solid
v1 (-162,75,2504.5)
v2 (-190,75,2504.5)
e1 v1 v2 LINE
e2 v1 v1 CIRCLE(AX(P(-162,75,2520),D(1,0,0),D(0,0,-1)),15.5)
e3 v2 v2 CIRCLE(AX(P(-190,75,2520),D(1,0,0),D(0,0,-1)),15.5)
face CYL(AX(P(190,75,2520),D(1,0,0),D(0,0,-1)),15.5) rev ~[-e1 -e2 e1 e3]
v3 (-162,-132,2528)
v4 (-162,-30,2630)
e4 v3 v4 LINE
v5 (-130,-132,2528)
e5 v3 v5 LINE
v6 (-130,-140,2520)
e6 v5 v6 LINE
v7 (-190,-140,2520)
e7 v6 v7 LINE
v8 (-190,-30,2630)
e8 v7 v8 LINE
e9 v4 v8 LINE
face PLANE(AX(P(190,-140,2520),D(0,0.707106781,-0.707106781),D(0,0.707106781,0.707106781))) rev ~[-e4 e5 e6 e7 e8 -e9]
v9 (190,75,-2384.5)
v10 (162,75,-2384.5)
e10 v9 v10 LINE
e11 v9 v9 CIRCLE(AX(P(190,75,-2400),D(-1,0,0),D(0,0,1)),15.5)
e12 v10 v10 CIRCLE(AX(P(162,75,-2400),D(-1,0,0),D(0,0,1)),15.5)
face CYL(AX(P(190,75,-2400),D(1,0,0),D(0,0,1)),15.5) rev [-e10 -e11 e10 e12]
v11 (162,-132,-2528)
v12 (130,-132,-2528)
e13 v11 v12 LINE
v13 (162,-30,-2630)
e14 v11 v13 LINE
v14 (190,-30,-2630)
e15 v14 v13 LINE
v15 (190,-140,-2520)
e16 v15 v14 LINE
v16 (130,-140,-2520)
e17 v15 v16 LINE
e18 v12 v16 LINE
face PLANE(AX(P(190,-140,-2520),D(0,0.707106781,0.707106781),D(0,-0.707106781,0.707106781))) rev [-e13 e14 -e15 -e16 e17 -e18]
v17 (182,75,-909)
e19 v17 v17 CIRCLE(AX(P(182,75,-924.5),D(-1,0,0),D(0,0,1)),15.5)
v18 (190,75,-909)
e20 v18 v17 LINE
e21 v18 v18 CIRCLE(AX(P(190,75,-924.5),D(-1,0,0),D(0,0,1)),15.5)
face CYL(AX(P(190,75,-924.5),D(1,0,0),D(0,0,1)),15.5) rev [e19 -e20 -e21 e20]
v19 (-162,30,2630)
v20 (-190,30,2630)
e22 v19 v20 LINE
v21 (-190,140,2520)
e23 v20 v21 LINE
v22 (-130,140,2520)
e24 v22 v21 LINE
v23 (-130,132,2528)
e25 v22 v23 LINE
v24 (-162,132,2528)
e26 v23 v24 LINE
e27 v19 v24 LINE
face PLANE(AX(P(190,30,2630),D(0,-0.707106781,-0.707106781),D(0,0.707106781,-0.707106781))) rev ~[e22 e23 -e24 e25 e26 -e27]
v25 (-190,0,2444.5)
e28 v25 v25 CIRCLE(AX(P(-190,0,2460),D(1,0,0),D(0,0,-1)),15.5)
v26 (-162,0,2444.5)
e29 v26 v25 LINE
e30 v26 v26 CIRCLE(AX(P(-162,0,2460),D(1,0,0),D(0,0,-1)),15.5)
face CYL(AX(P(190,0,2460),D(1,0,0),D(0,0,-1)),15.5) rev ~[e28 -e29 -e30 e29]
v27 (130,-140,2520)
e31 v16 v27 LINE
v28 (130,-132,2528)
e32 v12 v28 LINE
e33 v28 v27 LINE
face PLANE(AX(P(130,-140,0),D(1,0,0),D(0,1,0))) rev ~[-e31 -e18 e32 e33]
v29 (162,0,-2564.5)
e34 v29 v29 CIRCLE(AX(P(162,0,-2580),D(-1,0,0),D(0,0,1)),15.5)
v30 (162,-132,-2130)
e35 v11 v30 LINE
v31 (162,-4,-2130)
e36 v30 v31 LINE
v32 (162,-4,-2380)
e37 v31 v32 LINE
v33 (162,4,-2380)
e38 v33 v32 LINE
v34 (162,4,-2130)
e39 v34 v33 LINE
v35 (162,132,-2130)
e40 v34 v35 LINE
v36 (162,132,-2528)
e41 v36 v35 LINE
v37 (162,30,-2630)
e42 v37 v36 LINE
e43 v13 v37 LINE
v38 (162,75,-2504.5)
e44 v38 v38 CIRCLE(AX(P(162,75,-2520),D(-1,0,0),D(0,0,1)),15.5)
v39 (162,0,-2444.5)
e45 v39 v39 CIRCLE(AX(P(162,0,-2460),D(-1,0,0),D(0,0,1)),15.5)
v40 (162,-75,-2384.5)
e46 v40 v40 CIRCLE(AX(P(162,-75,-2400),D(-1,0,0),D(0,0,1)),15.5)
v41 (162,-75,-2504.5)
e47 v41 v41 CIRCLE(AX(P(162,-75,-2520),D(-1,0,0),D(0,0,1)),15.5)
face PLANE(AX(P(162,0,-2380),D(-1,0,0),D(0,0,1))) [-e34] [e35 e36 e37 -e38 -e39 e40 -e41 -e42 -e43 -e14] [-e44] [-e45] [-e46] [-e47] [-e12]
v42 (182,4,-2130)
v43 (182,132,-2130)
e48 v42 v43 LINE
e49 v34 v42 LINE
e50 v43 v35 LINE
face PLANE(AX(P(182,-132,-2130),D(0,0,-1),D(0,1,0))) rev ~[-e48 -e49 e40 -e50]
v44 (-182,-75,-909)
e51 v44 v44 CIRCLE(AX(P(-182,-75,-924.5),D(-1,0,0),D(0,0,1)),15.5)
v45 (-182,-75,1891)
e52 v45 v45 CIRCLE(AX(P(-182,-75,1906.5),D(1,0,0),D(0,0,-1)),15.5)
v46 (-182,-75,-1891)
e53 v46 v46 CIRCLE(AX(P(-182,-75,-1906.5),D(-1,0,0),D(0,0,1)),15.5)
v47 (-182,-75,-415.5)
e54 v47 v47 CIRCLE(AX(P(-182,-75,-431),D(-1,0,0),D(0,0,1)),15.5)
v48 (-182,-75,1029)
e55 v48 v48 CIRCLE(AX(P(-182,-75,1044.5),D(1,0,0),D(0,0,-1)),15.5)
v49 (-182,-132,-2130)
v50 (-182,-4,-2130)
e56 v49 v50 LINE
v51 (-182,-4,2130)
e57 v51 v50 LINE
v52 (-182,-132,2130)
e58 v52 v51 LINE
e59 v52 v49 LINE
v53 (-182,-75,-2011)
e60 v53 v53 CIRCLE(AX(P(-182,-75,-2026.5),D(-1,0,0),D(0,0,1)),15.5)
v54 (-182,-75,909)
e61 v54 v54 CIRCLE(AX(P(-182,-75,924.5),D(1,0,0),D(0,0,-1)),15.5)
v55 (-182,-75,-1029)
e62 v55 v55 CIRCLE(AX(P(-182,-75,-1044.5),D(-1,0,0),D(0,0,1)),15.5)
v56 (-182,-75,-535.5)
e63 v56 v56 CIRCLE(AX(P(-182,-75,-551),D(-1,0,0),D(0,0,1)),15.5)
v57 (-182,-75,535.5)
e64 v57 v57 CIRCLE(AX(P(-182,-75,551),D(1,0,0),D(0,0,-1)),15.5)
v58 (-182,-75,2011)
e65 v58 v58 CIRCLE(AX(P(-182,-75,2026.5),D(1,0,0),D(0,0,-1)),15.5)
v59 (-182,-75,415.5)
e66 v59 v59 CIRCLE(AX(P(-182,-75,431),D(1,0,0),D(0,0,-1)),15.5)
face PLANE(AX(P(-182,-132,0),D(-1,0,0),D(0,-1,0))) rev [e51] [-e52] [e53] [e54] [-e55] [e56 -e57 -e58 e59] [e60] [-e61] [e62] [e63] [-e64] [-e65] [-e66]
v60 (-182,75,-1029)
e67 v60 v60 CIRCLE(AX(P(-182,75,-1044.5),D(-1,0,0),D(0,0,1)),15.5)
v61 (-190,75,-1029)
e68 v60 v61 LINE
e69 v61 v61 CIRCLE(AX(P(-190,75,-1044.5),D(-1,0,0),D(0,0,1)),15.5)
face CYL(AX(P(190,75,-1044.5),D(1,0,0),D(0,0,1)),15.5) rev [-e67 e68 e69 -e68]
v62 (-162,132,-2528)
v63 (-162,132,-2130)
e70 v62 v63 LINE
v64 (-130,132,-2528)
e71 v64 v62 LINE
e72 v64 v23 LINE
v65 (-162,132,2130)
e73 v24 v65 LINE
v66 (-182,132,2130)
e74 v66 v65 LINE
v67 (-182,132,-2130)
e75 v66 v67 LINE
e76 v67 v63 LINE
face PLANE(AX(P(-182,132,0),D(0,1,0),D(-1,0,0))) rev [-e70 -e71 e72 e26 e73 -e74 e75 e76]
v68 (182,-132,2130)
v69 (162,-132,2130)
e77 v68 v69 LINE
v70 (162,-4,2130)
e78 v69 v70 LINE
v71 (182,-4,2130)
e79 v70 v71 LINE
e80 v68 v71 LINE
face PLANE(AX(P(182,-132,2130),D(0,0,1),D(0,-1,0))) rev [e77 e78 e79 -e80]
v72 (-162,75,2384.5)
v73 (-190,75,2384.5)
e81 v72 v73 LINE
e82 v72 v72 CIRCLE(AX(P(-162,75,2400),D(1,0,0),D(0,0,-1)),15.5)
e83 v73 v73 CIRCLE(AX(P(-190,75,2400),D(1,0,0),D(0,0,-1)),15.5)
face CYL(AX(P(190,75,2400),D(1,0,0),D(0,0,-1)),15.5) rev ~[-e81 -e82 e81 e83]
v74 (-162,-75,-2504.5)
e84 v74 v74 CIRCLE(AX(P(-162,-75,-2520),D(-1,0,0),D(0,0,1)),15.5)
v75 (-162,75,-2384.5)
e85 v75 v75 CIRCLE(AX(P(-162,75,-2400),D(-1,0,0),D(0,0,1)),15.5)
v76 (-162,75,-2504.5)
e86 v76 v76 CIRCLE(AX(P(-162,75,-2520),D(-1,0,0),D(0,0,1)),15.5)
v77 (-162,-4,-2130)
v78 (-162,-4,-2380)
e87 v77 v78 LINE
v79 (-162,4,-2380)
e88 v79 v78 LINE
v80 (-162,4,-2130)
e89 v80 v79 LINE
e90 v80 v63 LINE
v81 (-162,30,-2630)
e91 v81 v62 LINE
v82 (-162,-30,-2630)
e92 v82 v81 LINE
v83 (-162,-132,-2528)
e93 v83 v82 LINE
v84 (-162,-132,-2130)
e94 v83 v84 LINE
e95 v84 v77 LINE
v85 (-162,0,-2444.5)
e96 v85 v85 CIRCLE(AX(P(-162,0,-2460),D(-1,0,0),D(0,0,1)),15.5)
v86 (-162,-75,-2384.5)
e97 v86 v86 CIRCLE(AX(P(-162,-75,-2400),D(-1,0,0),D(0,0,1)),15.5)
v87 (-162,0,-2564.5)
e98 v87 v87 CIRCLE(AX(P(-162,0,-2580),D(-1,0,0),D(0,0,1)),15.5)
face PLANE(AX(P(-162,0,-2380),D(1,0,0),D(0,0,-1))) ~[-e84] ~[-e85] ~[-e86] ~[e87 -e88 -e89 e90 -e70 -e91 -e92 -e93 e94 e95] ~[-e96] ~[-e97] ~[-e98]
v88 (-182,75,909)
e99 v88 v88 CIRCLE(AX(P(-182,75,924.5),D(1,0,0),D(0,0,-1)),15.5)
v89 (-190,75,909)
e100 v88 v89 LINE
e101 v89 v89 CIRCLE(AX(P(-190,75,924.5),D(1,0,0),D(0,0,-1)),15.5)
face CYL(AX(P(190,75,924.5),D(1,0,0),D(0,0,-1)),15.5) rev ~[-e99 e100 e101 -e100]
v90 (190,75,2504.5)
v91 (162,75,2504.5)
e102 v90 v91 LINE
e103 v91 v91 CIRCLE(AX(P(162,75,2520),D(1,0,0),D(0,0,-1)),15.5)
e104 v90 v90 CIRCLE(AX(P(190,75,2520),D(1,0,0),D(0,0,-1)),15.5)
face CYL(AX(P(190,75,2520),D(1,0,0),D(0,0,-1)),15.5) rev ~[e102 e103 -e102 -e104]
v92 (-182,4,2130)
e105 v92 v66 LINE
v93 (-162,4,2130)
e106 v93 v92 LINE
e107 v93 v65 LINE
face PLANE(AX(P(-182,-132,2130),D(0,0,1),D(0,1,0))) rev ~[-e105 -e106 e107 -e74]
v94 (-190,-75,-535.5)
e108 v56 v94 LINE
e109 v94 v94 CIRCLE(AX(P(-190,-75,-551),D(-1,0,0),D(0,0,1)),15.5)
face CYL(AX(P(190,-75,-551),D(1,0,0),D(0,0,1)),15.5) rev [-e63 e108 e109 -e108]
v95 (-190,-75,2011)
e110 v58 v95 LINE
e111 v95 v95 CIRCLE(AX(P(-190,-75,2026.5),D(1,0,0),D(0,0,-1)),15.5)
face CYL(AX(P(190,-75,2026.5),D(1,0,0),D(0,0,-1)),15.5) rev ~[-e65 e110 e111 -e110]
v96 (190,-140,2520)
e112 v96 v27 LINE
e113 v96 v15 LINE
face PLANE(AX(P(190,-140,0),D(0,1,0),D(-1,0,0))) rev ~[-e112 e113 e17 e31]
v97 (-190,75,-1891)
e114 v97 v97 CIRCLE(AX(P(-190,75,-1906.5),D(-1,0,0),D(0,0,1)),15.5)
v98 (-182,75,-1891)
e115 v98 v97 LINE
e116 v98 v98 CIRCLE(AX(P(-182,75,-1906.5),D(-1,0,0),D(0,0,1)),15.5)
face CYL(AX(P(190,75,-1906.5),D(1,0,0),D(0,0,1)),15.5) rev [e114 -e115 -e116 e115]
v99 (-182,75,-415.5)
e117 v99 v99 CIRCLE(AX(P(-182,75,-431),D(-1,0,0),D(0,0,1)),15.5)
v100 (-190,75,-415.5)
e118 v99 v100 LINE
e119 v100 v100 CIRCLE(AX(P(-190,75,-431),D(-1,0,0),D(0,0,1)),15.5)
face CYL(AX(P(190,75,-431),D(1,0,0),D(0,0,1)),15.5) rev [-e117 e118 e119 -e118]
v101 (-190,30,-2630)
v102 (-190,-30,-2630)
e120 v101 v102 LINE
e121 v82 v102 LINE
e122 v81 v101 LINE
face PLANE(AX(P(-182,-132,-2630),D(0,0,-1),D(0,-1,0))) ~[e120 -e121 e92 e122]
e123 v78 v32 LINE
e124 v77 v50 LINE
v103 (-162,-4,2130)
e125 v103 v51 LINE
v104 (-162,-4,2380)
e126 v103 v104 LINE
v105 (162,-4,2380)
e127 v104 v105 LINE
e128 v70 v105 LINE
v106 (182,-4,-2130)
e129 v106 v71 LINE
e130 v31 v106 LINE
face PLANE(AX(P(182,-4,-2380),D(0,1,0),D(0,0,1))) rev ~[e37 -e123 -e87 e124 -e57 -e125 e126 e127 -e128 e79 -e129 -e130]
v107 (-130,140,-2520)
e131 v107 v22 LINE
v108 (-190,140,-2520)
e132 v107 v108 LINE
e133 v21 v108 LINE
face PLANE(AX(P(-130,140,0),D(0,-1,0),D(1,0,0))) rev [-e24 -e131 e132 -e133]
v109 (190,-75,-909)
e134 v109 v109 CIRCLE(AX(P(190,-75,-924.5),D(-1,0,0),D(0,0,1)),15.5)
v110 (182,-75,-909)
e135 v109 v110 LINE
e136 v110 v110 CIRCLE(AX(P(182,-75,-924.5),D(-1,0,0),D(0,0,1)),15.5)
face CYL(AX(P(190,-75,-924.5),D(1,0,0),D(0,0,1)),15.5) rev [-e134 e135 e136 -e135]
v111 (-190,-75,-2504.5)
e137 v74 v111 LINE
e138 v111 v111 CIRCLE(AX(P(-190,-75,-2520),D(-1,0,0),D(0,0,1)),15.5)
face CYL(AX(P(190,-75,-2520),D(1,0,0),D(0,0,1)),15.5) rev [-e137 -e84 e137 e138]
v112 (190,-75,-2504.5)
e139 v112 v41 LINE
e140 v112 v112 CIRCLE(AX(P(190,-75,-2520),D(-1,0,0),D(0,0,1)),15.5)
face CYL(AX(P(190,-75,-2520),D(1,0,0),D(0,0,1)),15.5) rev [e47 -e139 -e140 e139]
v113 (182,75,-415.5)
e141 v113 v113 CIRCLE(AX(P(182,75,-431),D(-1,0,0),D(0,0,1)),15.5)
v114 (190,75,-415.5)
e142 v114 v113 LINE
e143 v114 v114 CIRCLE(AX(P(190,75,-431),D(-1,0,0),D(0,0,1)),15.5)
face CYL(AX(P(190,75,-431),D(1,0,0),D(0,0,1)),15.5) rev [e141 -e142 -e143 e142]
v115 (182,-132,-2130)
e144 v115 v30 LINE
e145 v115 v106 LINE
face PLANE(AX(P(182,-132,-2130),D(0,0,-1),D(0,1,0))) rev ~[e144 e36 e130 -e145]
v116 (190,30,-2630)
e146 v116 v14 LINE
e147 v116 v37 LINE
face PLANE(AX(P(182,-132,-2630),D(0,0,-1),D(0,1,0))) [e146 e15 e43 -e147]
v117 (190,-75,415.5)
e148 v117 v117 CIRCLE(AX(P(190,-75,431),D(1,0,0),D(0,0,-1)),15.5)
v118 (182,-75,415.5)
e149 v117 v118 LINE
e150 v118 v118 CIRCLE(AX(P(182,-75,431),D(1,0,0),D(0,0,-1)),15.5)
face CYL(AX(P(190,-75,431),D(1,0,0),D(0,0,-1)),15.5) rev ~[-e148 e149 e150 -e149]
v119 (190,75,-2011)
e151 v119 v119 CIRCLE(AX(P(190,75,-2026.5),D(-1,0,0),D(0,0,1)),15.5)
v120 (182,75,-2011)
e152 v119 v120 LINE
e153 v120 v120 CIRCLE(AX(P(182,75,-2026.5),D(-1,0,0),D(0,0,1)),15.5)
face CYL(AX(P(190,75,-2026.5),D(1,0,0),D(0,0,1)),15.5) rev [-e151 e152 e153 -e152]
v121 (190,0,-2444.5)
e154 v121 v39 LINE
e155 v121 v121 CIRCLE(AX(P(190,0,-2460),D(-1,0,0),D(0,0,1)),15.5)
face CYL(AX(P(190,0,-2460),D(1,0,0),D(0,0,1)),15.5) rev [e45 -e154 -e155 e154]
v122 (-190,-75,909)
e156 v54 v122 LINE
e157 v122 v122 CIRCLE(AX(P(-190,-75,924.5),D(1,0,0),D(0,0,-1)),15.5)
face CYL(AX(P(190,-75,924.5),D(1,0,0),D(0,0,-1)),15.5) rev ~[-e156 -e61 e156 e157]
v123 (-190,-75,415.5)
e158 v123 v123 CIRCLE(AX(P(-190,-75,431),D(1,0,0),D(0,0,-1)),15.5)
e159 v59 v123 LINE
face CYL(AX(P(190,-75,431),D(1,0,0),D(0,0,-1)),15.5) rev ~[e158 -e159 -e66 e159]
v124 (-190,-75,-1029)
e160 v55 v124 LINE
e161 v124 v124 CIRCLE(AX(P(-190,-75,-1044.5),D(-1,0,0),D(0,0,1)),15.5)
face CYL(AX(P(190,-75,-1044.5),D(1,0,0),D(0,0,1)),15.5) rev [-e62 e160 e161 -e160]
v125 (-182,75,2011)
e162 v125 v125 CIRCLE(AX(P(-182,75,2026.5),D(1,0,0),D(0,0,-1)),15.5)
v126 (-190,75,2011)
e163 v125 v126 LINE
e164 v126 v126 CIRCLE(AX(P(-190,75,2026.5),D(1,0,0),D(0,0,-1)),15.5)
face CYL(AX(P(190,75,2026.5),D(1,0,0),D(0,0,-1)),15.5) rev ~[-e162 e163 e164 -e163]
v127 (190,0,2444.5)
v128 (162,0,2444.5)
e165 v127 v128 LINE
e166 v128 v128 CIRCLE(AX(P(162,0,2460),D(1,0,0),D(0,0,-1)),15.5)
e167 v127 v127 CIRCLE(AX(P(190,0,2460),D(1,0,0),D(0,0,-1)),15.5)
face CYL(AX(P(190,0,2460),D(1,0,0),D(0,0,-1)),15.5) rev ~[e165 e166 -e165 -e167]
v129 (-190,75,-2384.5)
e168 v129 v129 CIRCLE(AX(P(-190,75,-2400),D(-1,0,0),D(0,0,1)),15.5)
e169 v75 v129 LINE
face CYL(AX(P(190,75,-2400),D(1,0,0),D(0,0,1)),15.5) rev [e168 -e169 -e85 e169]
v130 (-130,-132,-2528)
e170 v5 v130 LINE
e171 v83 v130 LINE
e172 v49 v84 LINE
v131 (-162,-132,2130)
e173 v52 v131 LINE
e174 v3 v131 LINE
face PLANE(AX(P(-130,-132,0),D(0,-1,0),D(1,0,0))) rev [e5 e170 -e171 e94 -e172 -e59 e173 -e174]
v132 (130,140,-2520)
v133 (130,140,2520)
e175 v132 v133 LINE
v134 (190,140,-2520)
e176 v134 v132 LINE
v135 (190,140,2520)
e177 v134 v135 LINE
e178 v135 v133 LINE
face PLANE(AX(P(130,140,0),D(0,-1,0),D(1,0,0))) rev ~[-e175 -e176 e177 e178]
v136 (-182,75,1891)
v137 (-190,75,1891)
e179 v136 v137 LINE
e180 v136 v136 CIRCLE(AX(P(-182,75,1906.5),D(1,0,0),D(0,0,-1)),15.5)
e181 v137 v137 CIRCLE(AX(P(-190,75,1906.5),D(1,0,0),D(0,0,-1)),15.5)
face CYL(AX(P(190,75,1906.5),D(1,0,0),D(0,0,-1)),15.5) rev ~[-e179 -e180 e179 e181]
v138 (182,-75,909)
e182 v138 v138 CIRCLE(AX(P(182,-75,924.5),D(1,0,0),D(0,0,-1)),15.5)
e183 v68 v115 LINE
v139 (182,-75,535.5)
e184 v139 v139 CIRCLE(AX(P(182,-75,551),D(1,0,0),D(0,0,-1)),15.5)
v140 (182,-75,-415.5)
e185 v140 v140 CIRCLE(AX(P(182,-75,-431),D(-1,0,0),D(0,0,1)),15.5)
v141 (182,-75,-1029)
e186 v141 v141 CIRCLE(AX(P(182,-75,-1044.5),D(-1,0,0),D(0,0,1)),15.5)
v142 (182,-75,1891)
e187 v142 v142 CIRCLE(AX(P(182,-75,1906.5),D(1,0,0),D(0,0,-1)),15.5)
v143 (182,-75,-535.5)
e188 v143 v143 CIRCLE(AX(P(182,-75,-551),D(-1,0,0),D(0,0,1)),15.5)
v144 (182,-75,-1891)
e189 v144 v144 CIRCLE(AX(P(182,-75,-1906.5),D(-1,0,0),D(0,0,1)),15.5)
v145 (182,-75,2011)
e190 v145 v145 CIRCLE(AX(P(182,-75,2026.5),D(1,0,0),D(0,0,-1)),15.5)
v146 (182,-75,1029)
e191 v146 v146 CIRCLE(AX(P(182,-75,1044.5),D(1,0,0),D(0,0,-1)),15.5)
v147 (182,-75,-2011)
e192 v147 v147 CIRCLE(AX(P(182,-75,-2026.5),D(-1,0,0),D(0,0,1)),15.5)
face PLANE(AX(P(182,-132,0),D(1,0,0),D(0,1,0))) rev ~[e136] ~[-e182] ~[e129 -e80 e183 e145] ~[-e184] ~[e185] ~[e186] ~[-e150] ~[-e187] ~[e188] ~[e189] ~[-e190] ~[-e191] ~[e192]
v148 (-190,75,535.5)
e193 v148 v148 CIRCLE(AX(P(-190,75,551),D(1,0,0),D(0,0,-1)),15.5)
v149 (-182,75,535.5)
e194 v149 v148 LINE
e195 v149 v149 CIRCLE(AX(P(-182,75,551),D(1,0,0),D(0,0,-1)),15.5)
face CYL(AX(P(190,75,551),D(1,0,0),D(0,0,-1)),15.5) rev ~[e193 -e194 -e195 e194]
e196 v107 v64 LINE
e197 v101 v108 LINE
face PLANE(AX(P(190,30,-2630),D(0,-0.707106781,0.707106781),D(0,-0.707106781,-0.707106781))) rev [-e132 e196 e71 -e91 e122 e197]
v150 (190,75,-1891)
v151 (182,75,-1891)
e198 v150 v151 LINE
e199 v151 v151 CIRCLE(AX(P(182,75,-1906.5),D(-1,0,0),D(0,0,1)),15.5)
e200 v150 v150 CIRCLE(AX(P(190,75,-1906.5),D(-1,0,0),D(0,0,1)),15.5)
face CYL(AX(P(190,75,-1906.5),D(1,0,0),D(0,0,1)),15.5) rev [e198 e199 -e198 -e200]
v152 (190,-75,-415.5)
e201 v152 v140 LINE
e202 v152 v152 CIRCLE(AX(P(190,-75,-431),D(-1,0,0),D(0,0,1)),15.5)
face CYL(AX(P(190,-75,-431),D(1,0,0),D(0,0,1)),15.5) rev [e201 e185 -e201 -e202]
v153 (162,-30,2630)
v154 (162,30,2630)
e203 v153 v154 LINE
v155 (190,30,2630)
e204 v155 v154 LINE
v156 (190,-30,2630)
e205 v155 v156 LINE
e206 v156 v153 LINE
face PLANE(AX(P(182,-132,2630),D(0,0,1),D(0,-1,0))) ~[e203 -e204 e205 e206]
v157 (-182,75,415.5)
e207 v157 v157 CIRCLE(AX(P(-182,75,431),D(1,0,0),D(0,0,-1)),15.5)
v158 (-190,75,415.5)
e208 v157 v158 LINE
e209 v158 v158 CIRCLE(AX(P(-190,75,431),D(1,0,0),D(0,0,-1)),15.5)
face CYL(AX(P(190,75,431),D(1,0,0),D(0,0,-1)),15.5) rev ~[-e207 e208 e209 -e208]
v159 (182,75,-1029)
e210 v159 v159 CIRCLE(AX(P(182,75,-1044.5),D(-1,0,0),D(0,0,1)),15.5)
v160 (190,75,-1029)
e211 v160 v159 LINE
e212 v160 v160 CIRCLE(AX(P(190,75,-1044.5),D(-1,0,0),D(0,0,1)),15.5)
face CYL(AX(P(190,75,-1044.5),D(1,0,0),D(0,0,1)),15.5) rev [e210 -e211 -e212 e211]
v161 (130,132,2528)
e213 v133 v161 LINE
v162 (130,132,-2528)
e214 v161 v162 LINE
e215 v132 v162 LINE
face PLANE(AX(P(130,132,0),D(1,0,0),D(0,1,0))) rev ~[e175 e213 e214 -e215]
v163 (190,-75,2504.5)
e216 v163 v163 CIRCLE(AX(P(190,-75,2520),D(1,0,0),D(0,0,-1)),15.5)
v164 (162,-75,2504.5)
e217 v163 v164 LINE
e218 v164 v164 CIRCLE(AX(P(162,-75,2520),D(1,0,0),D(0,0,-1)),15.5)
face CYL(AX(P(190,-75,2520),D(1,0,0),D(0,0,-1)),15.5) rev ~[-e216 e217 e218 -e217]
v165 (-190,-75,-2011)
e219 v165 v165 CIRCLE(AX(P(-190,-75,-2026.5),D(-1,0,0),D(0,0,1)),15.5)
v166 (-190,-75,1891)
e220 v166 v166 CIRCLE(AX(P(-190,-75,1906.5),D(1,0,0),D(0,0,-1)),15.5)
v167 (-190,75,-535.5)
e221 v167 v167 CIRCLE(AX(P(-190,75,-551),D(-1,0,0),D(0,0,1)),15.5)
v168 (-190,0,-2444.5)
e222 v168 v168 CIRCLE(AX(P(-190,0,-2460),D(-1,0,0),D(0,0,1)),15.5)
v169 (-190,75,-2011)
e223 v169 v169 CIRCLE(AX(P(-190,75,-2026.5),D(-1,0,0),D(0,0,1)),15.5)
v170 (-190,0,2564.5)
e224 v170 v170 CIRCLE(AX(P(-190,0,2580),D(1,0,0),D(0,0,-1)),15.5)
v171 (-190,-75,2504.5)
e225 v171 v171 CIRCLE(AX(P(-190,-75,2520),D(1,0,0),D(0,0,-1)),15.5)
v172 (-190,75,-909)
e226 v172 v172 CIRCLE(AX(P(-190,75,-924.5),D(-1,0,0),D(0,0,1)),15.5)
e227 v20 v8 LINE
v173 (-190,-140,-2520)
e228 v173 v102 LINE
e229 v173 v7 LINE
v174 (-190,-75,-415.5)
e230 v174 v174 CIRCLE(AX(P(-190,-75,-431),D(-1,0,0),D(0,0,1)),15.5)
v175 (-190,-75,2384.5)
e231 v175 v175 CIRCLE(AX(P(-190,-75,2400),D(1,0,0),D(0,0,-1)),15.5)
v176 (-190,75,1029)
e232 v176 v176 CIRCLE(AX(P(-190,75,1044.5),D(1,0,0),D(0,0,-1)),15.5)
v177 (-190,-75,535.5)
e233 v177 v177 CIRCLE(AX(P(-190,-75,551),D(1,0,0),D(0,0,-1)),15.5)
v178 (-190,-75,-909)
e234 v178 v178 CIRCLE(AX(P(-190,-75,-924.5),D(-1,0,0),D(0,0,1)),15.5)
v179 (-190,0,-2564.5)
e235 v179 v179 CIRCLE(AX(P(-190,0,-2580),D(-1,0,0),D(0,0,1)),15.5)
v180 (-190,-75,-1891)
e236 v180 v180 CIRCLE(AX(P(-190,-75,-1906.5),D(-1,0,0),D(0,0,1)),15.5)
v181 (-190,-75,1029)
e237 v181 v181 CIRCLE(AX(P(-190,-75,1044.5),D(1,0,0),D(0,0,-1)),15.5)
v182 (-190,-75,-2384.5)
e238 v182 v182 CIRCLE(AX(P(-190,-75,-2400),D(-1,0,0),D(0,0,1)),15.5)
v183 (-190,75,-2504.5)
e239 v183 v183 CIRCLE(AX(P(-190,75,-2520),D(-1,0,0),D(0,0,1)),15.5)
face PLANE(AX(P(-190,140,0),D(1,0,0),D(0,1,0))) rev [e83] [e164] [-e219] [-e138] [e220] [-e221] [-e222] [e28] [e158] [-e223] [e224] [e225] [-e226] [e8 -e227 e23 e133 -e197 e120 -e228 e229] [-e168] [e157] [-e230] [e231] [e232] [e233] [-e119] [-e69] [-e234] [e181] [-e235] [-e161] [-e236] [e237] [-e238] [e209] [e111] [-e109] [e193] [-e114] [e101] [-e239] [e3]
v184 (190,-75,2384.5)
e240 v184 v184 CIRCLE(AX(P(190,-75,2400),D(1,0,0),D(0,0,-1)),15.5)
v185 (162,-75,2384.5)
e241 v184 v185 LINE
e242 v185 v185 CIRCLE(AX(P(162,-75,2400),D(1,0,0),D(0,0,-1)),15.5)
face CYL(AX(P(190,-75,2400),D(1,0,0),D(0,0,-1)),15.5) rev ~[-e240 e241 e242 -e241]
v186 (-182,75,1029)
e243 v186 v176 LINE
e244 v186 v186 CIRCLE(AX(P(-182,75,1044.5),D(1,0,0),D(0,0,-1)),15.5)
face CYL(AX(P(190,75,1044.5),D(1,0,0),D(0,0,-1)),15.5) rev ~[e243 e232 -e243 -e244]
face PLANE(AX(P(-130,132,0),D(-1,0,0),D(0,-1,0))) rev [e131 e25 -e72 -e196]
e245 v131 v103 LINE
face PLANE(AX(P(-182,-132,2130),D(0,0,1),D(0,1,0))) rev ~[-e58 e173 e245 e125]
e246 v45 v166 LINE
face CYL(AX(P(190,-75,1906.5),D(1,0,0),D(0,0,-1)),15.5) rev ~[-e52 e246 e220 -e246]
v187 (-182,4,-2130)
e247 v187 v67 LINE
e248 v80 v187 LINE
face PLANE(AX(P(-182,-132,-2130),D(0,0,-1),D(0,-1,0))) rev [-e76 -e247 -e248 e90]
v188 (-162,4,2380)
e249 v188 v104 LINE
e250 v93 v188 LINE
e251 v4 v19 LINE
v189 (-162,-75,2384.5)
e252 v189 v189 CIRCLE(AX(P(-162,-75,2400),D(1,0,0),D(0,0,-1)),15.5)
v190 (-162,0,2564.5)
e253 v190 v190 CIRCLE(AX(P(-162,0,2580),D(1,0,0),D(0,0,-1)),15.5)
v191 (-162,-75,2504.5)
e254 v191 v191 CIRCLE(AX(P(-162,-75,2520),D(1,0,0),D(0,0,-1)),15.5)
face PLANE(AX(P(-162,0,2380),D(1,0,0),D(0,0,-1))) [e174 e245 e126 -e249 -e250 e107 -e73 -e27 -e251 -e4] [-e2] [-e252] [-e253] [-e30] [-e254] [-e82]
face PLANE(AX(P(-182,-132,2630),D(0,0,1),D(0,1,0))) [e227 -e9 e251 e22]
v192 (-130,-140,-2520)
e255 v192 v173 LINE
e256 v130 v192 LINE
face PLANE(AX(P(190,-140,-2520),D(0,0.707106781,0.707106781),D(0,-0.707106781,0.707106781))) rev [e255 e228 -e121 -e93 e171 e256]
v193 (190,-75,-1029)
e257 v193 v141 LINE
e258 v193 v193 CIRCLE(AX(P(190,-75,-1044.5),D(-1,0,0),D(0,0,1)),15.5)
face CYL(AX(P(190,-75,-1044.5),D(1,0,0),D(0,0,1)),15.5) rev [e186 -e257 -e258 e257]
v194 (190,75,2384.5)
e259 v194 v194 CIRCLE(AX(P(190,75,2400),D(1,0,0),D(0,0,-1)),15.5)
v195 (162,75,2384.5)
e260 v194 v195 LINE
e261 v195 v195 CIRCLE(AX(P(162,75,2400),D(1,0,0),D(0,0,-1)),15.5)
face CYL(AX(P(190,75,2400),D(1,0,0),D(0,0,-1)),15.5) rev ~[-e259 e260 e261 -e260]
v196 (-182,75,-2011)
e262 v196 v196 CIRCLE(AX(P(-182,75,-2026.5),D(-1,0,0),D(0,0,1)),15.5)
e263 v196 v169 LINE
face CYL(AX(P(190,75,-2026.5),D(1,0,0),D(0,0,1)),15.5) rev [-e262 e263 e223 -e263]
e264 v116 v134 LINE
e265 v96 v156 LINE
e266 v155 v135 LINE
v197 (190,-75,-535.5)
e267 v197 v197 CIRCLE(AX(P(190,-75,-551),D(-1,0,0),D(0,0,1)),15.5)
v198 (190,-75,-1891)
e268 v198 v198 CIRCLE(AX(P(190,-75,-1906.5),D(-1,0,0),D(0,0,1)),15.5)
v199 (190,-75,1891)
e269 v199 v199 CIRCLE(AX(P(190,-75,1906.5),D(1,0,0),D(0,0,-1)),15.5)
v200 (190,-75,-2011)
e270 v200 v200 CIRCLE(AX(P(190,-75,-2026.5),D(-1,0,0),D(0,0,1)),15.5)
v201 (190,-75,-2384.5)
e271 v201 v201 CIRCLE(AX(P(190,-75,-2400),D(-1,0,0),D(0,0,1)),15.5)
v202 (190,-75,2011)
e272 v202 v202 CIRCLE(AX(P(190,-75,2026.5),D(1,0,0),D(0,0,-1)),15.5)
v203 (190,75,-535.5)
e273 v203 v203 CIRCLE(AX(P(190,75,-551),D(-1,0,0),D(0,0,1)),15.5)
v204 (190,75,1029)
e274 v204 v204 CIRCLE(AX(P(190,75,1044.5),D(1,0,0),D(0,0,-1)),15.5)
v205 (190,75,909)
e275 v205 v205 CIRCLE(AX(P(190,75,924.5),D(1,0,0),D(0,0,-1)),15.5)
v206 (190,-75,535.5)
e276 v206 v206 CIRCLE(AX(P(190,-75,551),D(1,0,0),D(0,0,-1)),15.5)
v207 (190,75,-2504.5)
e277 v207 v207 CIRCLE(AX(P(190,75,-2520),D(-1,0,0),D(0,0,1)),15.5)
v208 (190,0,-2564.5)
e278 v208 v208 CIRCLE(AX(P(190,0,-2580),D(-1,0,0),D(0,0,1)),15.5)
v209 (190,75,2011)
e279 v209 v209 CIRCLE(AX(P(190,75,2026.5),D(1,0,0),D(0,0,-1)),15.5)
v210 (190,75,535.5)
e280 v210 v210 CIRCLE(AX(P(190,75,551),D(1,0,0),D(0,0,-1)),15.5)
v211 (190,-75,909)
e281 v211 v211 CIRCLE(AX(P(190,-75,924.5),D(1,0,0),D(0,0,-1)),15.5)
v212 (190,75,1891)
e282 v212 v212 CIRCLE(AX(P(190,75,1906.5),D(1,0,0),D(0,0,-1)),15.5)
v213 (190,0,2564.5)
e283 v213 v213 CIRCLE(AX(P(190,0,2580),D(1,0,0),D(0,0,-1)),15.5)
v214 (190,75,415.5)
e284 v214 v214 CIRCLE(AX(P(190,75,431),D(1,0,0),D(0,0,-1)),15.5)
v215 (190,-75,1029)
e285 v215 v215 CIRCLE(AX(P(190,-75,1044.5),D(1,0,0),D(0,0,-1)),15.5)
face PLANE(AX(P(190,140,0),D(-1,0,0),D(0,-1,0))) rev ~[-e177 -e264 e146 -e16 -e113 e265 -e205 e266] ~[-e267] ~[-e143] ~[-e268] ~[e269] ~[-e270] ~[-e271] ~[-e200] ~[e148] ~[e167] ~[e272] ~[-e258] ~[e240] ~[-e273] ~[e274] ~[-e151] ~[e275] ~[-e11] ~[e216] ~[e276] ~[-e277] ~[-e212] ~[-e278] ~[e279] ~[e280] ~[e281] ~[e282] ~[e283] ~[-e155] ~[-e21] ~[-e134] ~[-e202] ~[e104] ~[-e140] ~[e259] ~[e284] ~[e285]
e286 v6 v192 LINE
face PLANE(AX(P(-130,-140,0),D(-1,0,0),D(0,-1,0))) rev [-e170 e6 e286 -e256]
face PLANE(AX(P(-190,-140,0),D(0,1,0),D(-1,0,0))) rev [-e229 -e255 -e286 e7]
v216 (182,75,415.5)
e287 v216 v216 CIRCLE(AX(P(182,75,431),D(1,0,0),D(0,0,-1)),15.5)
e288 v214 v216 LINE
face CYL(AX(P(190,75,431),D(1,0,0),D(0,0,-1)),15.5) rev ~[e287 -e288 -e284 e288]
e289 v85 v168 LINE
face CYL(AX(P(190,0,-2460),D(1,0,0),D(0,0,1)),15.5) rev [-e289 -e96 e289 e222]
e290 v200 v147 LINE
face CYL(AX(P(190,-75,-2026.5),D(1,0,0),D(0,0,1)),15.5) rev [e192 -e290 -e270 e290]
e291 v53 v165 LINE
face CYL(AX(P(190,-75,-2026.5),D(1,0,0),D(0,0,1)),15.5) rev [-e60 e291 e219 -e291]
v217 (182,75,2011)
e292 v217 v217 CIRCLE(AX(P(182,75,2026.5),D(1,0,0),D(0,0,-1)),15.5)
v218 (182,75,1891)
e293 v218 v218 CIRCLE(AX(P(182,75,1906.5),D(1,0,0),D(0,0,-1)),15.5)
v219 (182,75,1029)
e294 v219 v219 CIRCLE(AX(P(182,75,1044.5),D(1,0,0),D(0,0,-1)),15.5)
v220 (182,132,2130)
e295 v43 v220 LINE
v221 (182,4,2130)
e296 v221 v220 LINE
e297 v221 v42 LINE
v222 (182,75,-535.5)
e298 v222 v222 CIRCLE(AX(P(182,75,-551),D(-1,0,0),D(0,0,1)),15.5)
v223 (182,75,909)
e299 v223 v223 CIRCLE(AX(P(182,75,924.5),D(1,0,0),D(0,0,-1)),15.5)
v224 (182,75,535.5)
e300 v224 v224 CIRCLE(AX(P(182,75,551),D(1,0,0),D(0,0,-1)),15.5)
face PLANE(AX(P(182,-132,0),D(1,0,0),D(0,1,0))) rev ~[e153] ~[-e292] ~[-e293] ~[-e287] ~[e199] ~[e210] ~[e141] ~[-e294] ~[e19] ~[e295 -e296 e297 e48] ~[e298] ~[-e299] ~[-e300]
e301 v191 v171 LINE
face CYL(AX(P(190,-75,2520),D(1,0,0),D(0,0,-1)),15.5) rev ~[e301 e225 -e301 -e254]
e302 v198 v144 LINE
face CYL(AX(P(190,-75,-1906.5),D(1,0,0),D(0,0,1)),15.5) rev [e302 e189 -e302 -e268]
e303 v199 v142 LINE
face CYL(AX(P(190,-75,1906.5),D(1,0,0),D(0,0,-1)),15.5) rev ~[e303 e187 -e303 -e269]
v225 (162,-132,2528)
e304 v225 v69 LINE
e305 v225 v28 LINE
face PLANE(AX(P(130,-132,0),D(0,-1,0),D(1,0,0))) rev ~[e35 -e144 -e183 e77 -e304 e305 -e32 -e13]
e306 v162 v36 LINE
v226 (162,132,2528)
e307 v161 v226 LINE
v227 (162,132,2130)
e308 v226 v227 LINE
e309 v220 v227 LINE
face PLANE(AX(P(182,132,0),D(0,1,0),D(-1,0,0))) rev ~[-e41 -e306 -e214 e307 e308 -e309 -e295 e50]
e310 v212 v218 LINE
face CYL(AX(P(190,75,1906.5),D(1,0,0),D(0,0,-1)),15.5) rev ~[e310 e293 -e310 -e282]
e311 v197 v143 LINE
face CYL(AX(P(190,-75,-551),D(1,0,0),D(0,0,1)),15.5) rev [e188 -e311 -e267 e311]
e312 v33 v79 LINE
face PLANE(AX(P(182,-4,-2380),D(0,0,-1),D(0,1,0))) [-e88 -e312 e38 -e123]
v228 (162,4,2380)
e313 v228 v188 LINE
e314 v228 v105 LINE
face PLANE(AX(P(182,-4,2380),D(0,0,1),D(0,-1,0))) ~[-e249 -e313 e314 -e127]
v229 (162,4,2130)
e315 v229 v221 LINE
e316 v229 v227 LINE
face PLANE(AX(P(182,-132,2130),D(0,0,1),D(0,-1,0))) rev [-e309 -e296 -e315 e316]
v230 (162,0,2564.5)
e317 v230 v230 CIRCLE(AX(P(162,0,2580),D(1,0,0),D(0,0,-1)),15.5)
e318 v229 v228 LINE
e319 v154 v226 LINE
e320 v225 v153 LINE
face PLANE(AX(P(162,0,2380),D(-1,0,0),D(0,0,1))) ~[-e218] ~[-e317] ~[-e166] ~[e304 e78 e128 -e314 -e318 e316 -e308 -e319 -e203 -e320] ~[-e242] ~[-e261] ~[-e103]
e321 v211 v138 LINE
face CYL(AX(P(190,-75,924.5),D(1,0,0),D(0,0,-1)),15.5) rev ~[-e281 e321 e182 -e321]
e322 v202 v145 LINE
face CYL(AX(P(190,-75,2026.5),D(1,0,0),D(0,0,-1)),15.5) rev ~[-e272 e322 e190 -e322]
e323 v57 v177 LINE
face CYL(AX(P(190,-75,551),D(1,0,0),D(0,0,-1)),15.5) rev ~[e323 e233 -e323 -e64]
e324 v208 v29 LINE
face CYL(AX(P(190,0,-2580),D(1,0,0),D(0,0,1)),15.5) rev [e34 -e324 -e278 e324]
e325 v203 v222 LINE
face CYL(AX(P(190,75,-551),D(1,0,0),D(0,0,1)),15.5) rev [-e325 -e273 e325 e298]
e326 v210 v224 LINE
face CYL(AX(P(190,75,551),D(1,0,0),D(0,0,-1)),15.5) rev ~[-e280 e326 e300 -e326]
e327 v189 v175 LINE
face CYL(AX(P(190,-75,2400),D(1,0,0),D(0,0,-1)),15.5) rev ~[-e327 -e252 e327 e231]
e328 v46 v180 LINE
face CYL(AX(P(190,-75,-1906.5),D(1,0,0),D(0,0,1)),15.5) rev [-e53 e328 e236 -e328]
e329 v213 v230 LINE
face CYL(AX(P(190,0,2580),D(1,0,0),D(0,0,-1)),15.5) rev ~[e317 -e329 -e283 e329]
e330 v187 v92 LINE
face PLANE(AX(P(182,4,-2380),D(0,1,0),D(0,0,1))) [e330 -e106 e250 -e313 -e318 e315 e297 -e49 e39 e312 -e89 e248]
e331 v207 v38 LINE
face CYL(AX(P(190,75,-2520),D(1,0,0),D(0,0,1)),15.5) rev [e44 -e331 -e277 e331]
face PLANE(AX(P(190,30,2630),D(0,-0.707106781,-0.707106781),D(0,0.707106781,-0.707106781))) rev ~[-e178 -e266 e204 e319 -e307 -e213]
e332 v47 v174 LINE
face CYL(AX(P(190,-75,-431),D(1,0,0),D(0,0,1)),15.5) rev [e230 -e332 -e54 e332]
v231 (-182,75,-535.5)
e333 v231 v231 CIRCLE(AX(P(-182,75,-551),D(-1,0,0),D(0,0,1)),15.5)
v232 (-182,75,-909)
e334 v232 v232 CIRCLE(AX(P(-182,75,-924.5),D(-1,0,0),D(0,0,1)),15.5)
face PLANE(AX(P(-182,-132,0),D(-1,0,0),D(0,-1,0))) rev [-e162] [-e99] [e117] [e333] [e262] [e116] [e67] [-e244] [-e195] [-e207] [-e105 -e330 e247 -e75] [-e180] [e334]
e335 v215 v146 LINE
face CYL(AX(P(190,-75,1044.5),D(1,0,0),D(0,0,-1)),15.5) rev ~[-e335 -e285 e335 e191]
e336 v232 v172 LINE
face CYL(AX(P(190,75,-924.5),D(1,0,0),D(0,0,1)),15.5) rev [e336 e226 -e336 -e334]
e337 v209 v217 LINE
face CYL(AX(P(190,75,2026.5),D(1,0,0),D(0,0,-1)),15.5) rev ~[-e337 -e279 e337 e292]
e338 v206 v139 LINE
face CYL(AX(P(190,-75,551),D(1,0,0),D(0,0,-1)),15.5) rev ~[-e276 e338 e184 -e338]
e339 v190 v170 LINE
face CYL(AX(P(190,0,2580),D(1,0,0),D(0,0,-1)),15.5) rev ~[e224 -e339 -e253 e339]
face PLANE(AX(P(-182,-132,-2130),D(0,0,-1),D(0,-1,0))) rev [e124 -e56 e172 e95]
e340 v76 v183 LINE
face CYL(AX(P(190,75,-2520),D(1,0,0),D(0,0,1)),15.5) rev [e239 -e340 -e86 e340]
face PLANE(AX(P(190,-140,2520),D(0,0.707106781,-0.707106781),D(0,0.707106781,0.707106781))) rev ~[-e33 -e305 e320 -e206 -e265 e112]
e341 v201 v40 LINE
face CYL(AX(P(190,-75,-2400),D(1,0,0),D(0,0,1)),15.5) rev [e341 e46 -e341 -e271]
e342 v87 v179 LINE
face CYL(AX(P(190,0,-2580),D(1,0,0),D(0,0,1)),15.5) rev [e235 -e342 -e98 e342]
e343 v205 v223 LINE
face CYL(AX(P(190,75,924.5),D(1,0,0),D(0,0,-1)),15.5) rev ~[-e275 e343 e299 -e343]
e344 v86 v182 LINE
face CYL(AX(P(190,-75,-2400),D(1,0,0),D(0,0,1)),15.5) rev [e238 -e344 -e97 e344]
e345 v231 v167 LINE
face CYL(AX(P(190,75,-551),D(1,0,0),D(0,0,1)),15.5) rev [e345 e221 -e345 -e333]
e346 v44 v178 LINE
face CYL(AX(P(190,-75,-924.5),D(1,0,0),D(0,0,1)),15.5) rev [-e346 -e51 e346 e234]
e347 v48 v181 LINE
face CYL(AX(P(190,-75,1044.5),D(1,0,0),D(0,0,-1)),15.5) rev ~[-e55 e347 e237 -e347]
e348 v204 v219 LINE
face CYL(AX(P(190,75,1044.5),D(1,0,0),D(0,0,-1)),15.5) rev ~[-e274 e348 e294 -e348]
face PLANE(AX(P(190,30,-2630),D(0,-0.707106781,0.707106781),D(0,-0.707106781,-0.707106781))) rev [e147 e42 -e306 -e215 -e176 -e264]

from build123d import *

# Parameters (mm, degrees)
EXTRUDE_1_DEPTH     = 2630
SKETCH_2_W          = 500
SKETCH_2_H          = 264
EXTRUDE_2_DEPTH     = 20
SKETCH_4_W          = 2380
SKETCH_4_H          = 8
EXTRUDE_4_DEPTH     = 182
SKETCH_5_R          = 15.5
CUT_EXTRUDE_6_DEPTH = 2661.996054112


with BuildPart() as part:
    # 草图1 → 拉伸1 (new body)
    with BuildSketch(Plane.XY):
        Polygon((-130, 140), (-190, 140), (-190, -140), (-130, -140), (-130, -132), (-182, -132), (-182, 132), (-130, 132), align=None)
    extrude(amount=EXTRUDE_1_DEPTH)

    # 草图2 → 拉伸2 (add)
    with BuildSketch(Plane(origin=(-182, 0, 0), x_dir=(0, 0, -1), z_dir=(1, 0, 0))):
        with Locations((-2380, 0)):
            Rectangle(SKETCH_2_W, SKETCH_2_H)
    extrude(amount=EXTRUDE_2_DEPTH)

    # 草图4 → 拉伸4 (add)
    with BuildSketch(Plane(origin=(-182, 0, 0), x_dir=(0, 0, -1), z_dir=(1, 0, 0))):
        with Locations((-1190, 0)):
            Rectangle(SKETCH_4_W, SKETCH_4_H)
    extrude(amount=EXTRUDE_4_DEPTH)

    # 镜向2: part across plane


with BuildPart() as part_1:
    add(part.part)
    add(part.part.mirror(Plane(origin=(0, -4, 2380), x_dir=(0, 0, 1), z_dir=(1, 0, 0))))

    # 草图5 → 拉伸6 (cut, through all)
    with BuildSketch(Plane(origin=(190, 0, 0), x_dir=(0, 0, -1), z_dir=(1, 0, 0))):
        Polygon((-2630, 30), (-2520, 140), (-2630, 140), align=None)
        Polygon((-2520, -140), (-2630, -30), (-2630, -140), align=None)
        with Locations((-2580, 0)):
            Circle(SKETCH_5_R)
        with Locations((-2520, 75)):
            Circle(SKETCH_5_R)
        with Locations((-2400, 75)):
            Circle(SKETCH_5_R)
        with Locations((-2400, -75)):
            Circle(SKETCH_5_R)
        with Locations((-2026.5, -75)):
            Circle(SKETCH_5_R)
        with Locations((-2026.5, 75)):
            Circle(SKETCH_5_R)
        with Locations((-1906.5, 75)):
            Circle(SKETCH_5_R)
        with Locations((-1906.5, -75)):
            Circle(SKETCH_5_R)
        with Locations((-2520, -75)):
            Circle(SKETCH_5_R)
        with Locations((-2460, 0)):
            Circle(SKETCH_5_R)
        with Locations((-1044.5, 75)):
            Circle(SKETCH_5_R)
        with Locations((-924.5, 75)):
            Circle(SKETCH_5_R)
        with Locations((-1044.5, -75)):
            Circle(SKETCH_5_R)
        with Locations((-924.5, -75)):
            Circle(SKETCH_5_R)
        with Locations((-551, 75)):
            Circle(SKETCH_5_R)
        with Locations((-431, 75)):
            Circle(SKETCH_5_R)
        with Locations((-551, -75)):
            Circle(SKETCH_5_R)
        with Locations((-431, -75)):
            Circle(SKETCH_5_R)
    extrude(amount=-CUT_EXTRUDE_6_DEPTH, mode=Mode.SUBTRACT)

    # 镜向3: part across plane


with BuildPart() as part_2:
    add(part_1.part)
    add(part_1.part.mirror(Plane.XY))


solid = part_2.part
